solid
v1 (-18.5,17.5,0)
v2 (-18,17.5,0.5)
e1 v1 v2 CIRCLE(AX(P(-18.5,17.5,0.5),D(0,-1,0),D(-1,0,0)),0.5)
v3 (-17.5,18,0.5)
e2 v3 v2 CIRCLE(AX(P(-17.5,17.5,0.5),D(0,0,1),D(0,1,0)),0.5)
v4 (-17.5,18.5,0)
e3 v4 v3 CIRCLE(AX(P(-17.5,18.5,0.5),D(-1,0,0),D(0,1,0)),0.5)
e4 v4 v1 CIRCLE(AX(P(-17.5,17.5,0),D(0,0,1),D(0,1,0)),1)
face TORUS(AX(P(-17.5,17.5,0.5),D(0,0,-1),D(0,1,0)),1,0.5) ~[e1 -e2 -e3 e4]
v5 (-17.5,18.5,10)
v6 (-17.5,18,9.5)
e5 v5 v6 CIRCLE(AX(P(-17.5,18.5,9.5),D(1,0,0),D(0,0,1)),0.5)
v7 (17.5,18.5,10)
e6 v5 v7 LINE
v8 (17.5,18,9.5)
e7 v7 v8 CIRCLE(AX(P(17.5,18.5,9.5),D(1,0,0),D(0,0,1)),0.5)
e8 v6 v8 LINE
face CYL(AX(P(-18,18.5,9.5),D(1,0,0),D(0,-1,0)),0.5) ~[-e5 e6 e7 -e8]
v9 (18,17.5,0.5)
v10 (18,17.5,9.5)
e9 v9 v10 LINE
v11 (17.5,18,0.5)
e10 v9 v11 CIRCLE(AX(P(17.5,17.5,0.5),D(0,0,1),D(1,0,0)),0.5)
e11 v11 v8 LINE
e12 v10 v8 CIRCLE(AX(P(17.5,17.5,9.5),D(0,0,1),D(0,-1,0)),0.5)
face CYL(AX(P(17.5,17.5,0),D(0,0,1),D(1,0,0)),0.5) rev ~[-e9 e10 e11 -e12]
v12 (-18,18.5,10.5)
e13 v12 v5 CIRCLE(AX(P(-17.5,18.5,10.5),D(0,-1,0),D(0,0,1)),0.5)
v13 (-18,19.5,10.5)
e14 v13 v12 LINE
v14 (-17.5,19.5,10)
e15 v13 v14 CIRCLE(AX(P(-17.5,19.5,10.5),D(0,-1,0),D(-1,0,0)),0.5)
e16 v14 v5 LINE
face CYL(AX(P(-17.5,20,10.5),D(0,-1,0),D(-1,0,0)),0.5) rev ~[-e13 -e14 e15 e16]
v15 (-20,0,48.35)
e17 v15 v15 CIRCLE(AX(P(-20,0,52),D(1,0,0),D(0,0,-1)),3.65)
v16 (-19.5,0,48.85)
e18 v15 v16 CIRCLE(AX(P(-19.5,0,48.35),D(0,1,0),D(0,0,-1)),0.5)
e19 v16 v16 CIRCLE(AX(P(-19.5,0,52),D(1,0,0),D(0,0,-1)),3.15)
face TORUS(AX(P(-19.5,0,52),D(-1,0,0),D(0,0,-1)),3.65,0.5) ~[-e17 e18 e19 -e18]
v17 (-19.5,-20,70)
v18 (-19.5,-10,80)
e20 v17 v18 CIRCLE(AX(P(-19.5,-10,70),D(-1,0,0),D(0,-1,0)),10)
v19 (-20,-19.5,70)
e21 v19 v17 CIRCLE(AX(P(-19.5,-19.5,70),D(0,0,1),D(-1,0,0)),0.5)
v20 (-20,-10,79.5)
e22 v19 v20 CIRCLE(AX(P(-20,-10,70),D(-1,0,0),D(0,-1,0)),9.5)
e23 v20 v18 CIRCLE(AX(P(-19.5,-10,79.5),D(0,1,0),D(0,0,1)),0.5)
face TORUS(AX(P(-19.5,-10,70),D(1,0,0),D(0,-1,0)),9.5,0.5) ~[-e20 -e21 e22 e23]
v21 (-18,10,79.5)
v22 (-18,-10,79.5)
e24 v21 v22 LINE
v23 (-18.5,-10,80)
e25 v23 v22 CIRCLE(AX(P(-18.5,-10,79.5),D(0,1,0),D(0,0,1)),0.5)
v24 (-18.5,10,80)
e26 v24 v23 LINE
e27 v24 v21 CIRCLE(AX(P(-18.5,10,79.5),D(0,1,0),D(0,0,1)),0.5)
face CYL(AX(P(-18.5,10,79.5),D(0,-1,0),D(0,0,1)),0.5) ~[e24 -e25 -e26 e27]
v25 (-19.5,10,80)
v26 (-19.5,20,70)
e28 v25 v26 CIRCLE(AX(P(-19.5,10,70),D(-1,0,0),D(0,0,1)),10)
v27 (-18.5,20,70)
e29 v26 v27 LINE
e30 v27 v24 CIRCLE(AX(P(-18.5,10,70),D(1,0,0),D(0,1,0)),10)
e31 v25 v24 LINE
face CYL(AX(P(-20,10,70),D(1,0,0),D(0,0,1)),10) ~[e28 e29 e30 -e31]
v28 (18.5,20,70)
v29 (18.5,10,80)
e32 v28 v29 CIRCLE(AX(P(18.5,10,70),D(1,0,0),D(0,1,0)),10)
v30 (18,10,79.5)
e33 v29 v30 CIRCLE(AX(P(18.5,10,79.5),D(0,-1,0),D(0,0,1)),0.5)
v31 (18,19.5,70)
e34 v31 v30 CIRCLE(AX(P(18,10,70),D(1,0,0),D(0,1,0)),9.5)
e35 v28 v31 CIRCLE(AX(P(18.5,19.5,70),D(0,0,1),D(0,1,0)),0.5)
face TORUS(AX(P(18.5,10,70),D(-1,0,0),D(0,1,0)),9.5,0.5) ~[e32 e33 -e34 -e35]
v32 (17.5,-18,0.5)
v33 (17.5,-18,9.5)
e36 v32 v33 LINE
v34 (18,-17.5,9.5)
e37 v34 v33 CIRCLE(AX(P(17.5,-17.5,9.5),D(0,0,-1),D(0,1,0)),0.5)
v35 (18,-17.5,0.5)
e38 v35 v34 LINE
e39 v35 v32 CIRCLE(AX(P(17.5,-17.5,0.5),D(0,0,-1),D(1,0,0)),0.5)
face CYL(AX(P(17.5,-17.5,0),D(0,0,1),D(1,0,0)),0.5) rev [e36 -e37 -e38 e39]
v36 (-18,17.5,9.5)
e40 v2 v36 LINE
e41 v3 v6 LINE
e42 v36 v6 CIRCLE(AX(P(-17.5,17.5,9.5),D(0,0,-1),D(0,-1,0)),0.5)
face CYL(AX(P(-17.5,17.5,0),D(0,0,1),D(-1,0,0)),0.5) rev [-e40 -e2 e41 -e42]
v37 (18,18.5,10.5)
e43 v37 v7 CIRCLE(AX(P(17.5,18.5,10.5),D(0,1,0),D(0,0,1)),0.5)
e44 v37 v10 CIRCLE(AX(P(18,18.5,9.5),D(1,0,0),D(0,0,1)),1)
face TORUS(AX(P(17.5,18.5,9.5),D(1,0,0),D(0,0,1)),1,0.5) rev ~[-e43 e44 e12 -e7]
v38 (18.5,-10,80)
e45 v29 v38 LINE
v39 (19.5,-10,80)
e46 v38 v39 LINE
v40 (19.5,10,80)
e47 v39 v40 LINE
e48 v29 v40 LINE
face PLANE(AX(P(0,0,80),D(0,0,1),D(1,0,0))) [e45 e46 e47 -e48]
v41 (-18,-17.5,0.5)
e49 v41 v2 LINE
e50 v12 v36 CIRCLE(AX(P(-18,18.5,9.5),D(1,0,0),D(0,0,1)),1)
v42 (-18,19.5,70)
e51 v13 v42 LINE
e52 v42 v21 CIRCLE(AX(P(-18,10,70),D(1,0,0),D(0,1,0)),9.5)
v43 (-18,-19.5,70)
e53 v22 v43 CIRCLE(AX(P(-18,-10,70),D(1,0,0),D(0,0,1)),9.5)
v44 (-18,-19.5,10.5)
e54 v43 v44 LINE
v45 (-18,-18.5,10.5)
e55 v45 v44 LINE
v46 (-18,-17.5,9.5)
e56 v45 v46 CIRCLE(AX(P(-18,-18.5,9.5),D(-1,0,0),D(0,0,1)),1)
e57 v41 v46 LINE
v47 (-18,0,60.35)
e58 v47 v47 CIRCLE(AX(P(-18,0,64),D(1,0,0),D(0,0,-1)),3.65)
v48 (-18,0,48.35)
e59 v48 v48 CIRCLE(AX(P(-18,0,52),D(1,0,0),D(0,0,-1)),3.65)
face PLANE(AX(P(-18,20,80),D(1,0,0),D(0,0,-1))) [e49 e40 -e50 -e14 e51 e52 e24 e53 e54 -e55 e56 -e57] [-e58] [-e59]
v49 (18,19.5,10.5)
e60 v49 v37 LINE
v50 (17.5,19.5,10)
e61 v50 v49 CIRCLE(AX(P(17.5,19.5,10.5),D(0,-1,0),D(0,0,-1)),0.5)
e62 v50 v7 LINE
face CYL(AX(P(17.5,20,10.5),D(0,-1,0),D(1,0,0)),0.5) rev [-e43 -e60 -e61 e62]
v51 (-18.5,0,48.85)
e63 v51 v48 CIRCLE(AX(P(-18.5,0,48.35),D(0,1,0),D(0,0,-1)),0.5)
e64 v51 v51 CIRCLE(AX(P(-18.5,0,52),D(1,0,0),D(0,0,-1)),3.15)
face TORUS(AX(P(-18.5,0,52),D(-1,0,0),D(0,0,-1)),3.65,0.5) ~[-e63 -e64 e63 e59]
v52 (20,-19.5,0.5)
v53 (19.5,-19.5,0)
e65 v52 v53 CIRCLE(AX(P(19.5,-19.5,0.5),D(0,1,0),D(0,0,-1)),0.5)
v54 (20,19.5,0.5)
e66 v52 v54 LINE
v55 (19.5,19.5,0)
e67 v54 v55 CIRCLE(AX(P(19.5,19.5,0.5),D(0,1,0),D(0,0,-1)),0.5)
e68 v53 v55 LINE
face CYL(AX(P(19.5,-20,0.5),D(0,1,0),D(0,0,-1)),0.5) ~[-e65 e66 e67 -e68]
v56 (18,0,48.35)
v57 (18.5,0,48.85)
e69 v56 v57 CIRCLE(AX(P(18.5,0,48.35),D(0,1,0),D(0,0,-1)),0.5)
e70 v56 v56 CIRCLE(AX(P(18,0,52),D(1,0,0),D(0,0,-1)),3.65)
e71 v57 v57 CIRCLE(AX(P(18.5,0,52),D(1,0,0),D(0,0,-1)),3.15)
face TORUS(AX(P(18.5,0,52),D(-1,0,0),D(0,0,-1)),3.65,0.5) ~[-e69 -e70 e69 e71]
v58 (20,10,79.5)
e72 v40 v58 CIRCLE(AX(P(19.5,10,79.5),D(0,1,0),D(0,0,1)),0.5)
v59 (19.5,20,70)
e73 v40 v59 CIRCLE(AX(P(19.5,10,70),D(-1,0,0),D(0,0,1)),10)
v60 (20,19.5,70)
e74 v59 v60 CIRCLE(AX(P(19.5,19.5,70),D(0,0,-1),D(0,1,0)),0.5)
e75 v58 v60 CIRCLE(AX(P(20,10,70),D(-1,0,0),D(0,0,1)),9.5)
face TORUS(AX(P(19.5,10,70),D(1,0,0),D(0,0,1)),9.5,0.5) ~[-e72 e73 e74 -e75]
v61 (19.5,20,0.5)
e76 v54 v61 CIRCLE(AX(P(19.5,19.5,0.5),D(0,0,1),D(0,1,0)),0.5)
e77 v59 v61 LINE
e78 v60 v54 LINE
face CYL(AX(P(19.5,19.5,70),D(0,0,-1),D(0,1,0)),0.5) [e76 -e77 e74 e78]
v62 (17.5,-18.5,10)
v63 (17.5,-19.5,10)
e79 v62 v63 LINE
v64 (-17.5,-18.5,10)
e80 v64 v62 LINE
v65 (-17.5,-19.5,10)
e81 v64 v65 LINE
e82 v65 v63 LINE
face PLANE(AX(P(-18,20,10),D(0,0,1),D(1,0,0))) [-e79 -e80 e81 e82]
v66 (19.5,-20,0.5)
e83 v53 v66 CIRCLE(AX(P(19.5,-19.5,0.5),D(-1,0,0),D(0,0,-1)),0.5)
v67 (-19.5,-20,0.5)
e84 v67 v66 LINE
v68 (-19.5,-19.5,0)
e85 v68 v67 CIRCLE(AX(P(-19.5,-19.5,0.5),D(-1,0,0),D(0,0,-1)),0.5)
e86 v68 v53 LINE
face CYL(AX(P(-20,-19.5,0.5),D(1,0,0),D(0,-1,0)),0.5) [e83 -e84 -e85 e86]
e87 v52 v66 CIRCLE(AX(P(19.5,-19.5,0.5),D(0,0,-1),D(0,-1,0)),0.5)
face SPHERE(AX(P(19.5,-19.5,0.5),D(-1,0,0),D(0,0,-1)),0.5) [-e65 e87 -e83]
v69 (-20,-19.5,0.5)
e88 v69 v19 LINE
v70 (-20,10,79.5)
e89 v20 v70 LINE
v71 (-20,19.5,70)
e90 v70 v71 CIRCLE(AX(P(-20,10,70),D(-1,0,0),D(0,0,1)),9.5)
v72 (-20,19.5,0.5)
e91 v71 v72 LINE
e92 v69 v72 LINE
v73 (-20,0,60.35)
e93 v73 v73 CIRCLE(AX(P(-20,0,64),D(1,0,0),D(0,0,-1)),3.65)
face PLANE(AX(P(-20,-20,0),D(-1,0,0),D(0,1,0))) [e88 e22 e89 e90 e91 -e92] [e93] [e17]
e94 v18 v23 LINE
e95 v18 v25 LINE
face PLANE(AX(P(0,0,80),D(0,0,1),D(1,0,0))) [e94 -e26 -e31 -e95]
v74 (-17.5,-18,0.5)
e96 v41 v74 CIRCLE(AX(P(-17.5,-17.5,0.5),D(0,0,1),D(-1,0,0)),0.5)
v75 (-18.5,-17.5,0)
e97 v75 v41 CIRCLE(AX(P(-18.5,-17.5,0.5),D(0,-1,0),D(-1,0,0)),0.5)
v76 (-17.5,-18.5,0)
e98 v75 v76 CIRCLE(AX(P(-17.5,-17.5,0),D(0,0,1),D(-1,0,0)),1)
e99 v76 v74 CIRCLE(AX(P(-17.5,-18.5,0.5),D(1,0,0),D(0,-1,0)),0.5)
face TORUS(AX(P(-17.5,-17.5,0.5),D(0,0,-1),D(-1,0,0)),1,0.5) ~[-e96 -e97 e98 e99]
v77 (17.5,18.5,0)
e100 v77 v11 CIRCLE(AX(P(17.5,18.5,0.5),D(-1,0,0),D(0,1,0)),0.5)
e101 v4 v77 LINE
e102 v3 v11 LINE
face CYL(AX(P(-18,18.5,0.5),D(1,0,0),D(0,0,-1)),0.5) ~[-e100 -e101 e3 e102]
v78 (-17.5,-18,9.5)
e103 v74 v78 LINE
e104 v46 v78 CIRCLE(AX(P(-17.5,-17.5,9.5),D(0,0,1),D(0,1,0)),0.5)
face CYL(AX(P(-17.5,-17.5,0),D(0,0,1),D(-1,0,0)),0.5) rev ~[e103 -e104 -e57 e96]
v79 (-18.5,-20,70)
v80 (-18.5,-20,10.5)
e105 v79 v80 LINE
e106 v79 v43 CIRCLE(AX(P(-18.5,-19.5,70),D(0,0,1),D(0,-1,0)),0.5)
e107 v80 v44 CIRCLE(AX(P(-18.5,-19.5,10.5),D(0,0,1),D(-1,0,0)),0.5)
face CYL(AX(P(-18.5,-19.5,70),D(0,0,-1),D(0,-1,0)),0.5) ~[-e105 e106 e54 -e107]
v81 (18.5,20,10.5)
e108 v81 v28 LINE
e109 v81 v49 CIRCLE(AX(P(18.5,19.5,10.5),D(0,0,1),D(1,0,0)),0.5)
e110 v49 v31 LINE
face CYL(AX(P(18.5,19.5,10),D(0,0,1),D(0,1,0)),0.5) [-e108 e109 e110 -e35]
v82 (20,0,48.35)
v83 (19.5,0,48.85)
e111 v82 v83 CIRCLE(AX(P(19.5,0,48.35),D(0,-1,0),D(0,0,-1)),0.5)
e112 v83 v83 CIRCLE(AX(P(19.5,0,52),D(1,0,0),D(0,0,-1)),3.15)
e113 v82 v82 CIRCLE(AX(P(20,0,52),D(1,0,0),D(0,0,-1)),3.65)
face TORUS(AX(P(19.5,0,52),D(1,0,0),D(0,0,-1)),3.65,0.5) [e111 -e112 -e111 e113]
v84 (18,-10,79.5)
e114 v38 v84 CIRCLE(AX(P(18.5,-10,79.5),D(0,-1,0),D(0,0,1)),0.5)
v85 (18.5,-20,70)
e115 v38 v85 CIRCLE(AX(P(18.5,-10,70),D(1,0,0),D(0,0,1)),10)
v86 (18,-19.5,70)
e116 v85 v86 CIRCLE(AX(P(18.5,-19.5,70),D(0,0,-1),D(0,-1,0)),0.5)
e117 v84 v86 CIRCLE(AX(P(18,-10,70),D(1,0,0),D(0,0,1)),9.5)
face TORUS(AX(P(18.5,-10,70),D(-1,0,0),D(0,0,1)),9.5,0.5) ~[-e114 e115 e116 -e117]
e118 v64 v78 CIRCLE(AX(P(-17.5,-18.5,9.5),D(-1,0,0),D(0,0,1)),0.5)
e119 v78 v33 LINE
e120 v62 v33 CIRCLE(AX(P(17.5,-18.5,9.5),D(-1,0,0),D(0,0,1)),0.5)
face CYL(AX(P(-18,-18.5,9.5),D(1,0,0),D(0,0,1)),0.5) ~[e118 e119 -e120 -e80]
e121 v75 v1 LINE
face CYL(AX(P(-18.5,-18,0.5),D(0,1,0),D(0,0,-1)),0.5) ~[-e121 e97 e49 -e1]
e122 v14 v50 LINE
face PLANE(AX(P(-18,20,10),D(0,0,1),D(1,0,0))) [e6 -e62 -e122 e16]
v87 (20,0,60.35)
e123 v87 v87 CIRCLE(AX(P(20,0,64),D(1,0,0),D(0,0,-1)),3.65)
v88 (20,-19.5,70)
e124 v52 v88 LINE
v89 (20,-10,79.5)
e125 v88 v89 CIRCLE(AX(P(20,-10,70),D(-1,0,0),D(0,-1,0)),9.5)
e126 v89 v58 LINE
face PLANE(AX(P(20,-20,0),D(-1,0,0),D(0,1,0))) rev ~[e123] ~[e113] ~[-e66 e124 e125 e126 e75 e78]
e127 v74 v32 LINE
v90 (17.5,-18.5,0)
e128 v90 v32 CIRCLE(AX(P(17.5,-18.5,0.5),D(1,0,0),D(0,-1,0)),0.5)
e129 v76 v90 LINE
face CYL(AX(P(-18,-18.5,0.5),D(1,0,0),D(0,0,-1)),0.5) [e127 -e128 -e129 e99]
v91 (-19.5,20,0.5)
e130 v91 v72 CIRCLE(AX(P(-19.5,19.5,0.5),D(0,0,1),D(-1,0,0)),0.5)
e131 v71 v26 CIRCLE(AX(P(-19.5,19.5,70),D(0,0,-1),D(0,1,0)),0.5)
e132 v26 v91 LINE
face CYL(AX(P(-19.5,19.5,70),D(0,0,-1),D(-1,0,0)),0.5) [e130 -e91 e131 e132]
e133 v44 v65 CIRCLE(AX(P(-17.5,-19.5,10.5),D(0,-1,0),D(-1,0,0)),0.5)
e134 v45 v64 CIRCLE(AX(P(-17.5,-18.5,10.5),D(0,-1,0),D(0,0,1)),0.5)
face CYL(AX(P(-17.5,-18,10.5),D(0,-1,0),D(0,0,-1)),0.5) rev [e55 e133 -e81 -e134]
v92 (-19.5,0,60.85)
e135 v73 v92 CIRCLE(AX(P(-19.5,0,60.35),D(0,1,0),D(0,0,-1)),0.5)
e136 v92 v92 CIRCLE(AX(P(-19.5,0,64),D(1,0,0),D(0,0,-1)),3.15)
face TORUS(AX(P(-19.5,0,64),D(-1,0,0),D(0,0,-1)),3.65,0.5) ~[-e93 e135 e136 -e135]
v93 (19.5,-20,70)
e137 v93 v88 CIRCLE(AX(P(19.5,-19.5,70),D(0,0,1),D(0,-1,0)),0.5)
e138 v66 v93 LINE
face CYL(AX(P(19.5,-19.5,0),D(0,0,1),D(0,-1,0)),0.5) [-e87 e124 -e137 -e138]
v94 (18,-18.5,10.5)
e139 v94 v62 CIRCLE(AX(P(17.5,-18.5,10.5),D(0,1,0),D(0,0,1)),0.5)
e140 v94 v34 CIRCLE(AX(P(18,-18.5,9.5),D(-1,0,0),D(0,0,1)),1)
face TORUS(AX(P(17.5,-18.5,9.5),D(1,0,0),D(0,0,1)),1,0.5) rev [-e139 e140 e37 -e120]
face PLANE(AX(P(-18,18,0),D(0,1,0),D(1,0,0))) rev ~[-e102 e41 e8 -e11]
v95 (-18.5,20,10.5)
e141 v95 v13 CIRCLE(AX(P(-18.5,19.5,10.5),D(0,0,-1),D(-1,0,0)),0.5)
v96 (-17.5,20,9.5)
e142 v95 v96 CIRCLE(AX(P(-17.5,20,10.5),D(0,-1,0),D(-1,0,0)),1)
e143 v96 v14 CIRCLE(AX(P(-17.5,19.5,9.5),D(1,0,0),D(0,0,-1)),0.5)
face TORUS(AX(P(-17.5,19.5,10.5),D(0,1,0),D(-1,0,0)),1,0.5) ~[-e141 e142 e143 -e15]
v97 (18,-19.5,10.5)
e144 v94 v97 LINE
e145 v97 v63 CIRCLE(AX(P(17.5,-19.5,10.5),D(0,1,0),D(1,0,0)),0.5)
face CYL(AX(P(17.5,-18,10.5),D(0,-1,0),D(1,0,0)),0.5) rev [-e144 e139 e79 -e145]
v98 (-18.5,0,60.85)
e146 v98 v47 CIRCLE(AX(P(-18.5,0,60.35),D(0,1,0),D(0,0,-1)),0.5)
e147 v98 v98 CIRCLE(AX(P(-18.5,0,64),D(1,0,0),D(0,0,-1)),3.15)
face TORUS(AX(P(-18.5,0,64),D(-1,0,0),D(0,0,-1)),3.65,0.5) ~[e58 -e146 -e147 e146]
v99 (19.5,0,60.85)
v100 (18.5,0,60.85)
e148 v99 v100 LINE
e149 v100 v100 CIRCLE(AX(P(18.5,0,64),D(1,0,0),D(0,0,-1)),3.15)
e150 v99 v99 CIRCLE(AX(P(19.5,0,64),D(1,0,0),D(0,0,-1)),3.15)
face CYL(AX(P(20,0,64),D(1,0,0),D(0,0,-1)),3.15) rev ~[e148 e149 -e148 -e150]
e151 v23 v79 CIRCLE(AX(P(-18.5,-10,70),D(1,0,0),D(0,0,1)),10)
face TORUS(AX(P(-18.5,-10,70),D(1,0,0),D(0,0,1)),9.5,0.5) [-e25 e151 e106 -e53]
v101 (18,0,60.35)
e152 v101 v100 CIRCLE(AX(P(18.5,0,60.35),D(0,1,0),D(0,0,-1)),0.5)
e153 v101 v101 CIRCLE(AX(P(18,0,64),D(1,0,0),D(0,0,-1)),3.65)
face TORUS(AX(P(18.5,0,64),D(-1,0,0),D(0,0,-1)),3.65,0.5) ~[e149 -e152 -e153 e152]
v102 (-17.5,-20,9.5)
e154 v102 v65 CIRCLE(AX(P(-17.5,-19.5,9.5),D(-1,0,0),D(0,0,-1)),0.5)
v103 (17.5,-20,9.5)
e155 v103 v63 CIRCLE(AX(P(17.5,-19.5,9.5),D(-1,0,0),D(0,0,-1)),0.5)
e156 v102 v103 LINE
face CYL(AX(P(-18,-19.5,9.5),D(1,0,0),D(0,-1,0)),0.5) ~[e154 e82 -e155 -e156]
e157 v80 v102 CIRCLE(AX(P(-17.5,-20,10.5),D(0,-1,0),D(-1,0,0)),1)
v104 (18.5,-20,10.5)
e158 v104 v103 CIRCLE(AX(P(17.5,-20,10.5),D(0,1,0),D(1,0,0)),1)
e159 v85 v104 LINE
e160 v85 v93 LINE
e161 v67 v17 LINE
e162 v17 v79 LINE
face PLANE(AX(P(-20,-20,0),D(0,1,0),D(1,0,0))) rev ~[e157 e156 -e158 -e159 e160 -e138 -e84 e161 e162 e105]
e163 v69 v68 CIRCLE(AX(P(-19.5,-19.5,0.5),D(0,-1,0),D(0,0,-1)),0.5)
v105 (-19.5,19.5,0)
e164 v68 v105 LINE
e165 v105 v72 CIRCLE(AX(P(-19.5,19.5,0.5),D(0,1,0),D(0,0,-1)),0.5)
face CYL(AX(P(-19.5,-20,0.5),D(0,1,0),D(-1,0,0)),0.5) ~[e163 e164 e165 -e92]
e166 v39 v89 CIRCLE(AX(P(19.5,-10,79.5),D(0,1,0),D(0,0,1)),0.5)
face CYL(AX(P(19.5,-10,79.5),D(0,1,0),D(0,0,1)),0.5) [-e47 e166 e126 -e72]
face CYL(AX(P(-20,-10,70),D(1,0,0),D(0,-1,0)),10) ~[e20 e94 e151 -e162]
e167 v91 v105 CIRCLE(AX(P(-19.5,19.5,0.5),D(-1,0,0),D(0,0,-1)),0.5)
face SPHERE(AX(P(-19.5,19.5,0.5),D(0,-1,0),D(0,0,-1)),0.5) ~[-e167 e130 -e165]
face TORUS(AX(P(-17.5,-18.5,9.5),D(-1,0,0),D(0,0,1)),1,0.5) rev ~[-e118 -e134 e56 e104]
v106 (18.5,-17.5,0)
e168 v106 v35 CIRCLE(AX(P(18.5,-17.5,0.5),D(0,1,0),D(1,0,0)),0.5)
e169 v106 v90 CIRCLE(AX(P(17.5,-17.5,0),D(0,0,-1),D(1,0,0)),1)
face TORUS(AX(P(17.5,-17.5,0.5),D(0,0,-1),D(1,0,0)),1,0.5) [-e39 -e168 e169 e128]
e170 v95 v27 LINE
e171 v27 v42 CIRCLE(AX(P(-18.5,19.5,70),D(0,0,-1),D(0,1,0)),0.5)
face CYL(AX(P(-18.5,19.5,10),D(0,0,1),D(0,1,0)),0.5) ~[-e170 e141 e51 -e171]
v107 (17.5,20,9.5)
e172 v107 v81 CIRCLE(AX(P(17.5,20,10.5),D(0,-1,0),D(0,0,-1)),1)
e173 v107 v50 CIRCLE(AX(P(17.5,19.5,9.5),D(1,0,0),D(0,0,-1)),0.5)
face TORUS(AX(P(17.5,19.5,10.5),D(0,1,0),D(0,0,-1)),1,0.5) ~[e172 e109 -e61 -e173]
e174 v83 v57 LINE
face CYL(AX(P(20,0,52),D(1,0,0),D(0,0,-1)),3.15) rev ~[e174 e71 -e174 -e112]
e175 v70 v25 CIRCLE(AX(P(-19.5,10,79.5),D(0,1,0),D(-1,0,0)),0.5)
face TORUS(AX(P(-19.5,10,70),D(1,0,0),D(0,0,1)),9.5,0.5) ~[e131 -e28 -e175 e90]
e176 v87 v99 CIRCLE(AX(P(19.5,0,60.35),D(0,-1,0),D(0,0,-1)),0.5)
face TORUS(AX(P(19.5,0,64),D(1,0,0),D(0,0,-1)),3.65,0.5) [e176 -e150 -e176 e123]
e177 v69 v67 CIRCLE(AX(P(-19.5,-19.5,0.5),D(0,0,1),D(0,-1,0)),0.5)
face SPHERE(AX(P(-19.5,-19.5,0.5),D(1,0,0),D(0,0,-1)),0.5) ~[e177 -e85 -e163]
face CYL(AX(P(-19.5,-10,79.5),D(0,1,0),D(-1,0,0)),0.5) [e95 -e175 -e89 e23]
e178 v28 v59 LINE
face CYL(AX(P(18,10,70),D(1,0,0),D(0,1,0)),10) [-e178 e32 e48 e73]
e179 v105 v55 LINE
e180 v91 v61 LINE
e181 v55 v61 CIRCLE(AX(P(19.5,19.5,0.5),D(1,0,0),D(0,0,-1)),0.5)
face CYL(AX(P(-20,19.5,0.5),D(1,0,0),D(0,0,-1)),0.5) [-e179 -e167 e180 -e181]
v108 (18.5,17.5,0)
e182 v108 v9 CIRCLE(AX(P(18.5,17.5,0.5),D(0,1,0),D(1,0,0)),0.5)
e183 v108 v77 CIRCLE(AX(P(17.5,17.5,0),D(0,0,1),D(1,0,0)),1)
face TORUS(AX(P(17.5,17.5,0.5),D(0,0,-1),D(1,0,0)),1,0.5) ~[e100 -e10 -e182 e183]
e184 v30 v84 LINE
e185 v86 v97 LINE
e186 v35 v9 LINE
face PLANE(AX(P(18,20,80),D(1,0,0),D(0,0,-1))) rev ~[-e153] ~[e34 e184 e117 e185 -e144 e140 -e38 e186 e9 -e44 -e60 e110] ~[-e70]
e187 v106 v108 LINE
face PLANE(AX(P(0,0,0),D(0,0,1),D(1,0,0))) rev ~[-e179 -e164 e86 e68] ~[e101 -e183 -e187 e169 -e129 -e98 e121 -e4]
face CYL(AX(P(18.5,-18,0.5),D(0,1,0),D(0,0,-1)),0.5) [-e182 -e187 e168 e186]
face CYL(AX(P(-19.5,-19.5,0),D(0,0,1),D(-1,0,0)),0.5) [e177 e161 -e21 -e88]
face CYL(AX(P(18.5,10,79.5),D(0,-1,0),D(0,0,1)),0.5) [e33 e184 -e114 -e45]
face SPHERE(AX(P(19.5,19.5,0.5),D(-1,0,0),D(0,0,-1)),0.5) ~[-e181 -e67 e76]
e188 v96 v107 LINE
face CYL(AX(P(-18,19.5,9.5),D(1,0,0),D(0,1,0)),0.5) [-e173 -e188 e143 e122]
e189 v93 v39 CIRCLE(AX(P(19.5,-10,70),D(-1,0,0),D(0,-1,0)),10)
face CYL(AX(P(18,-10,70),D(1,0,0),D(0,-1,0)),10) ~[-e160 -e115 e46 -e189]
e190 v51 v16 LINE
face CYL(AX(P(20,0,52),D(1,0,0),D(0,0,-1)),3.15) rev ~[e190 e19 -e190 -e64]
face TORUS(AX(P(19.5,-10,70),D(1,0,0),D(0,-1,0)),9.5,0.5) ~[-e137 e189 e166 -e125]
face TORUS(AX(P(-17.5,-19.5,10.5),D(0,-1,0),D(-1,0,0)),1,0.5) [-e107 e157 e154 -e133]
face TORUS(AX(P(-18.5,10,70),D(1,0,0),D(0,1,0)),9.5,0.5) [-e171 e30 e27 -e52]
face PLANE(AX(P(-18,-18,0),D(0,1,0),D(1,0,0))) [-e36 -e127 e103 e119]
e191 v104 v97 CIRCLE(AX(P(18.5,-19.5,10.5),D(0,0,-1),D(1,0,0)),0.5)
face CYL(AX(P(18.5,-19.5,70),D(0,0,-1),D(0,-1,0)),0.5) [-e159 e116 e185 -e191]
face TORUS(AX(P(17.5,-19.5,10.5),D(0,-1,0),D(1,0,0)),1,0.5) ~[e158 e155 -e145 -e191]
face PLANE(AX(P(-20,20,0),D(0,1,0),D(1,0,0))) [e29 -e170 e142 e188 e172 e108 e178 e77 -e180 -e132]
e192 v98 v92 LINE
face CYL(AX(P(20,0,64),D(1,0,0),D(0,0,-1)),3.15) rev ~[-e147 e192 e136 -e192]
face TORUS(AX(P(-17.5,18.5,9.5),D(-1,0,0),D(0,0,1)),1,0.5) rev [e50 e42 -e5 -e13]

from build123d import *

# Parameters (mm, degrees)
SKIZZE1_W                       = 40
SKIZZE1_H                       = 40
SKIZZE1_W_2                     = 36
SKIZZE1_H_2                     = 36
AUFSATZ_LINEAR_AUSTRAGEN1_DEPTH = 80
SKIZZE2_W                       = 36
SKIZZE2_H                       = 70
SCHNITT_LINEAR_AUSTRAGEN1_DEPTH = 92.651513899
SKIZZE3_R                       = 3.15
SCHNITT_LINEAR_AUSTRAGEN2_DEPTH = 92.651513899
VERRUNDUNG1_R                   = 10
VERRUNDUNG2_R                   = 0.5


with BuildPart() as part:
    # Skizze1 → Aufsatz-Linear austragen1 (new body)
    with BuildSketch(Plane.XY):
        Rectangle(SKIZZE1_W, SKIZZE1_H)
        Rectangle(SKIZZE1_W_2, SKIZZE1_H_2, mode=Mode.SUBTRACT)
    extrude(amount=AUFSATZ_LINEAR_AUSTRAGEN1_DEPTH)

    # Skizze2 → Schnitt-Linear austragen1 (cut, through all)
    with BuildSketch(Plane(origin=(0, 20, 0), x_dir=(1, 0, 0), z_dir=(0, 1, 0))):
        with Locations((0, -45)):
            Rectangle(SKIZZE2_W, SKIZZE2_H)
    extrude(amount=-SCHNITT_LINEAR_AUSTRAGEN1_DEPTH, mode=Mode.SUBTRACT)

    # Skizze3 → Schnitt-Linear austragen2 (cut, through all)
    with BuildSketch(Plane(origin=(20, 0, 0), x_dir=(0, 0, -1), z_dir=(1, 0, 0))):
        with Locations((-64, 0)):
            Circle(SKIZZE3_R)
        with Locations((-52, 0)):
            Circle(SKIZZE3_R)
    extrude(amount=-SCHNITT_LINEAR_AUSTRAGEN2_DEPTH, mode=Mode.SUBTRACT)

    # Verrundung1
    verrundung1_edges = [part.edges().sort_by_distance(p)[0] for p in [
        (-19, -20, 80),
        (19, -20, 80),
        (-19, 20, 80),
        (19, 20, 80),
    ]]
    fillet(verrundung1_edges, radius=VERRUNDUNG1_R)

    # Verrundung2
    verrundung2_edges = [part.edges().sort_by_distance(p)[0] for p in [
        (18, 0, 0),
        (0, 18, 0),
        (-18, 0, 0),
        (0, -18, 0),
        (-18, -18, 5),
        (18, -18, 5),
        (0, -18, 10),
        (-18, 18, 5),
        (18, 18, 5),
        (0, 18, 10),
        (-18, 19, 10),
        (18, 19, 10),
        (-18, -20, 40),
        (0, -20, 10),
        (-18, -19, 10),
        (18, -19, 10),
        (-18, 20, 40),
        (0, 20, 10),
        (0, -20, 0),
        (-20, 0, 0),
        (0, 20, 0),
        (-18, 0, 67.15),
        (18, 0, 67.15),
        (-20, 0, 67.15),
        (20, 0, 67.15),
        (20, 0, 0),
        (-18, 0, 55.15),
        (18, 0, 55.15),
        (-20, 0, 55.15),
        (20, 0, 55.15),
        (-18, 0, 80),
        (-20, 0, 80),
        (-18, 17.071067812, 77.071067812),
        (-18, -17.071067812, 77.071067812),
        (-20, -20, 35),
        (20, -20, 35),
        (18, -20, 40),
        (-20, 20, 35),
        (-20, 17.071067812, 77.071067812),
        (-20, -17.071067812, 77.071067812),
        (18, 0, 80),
        (20, 0, 80),
        (20, 20, 35),
        (20, 17.071067812, 77.071067812),
        (20, -17.071067812, 77.071067812),
        (18, 20, 40),
        (18, 17.071067812, 77.071067812),
        (18, -17.071067812, 77.071067812),
    ]]
    fillet(verrundung2_edges, radius=VERRUNDUNG2_R)


solid = part.part
